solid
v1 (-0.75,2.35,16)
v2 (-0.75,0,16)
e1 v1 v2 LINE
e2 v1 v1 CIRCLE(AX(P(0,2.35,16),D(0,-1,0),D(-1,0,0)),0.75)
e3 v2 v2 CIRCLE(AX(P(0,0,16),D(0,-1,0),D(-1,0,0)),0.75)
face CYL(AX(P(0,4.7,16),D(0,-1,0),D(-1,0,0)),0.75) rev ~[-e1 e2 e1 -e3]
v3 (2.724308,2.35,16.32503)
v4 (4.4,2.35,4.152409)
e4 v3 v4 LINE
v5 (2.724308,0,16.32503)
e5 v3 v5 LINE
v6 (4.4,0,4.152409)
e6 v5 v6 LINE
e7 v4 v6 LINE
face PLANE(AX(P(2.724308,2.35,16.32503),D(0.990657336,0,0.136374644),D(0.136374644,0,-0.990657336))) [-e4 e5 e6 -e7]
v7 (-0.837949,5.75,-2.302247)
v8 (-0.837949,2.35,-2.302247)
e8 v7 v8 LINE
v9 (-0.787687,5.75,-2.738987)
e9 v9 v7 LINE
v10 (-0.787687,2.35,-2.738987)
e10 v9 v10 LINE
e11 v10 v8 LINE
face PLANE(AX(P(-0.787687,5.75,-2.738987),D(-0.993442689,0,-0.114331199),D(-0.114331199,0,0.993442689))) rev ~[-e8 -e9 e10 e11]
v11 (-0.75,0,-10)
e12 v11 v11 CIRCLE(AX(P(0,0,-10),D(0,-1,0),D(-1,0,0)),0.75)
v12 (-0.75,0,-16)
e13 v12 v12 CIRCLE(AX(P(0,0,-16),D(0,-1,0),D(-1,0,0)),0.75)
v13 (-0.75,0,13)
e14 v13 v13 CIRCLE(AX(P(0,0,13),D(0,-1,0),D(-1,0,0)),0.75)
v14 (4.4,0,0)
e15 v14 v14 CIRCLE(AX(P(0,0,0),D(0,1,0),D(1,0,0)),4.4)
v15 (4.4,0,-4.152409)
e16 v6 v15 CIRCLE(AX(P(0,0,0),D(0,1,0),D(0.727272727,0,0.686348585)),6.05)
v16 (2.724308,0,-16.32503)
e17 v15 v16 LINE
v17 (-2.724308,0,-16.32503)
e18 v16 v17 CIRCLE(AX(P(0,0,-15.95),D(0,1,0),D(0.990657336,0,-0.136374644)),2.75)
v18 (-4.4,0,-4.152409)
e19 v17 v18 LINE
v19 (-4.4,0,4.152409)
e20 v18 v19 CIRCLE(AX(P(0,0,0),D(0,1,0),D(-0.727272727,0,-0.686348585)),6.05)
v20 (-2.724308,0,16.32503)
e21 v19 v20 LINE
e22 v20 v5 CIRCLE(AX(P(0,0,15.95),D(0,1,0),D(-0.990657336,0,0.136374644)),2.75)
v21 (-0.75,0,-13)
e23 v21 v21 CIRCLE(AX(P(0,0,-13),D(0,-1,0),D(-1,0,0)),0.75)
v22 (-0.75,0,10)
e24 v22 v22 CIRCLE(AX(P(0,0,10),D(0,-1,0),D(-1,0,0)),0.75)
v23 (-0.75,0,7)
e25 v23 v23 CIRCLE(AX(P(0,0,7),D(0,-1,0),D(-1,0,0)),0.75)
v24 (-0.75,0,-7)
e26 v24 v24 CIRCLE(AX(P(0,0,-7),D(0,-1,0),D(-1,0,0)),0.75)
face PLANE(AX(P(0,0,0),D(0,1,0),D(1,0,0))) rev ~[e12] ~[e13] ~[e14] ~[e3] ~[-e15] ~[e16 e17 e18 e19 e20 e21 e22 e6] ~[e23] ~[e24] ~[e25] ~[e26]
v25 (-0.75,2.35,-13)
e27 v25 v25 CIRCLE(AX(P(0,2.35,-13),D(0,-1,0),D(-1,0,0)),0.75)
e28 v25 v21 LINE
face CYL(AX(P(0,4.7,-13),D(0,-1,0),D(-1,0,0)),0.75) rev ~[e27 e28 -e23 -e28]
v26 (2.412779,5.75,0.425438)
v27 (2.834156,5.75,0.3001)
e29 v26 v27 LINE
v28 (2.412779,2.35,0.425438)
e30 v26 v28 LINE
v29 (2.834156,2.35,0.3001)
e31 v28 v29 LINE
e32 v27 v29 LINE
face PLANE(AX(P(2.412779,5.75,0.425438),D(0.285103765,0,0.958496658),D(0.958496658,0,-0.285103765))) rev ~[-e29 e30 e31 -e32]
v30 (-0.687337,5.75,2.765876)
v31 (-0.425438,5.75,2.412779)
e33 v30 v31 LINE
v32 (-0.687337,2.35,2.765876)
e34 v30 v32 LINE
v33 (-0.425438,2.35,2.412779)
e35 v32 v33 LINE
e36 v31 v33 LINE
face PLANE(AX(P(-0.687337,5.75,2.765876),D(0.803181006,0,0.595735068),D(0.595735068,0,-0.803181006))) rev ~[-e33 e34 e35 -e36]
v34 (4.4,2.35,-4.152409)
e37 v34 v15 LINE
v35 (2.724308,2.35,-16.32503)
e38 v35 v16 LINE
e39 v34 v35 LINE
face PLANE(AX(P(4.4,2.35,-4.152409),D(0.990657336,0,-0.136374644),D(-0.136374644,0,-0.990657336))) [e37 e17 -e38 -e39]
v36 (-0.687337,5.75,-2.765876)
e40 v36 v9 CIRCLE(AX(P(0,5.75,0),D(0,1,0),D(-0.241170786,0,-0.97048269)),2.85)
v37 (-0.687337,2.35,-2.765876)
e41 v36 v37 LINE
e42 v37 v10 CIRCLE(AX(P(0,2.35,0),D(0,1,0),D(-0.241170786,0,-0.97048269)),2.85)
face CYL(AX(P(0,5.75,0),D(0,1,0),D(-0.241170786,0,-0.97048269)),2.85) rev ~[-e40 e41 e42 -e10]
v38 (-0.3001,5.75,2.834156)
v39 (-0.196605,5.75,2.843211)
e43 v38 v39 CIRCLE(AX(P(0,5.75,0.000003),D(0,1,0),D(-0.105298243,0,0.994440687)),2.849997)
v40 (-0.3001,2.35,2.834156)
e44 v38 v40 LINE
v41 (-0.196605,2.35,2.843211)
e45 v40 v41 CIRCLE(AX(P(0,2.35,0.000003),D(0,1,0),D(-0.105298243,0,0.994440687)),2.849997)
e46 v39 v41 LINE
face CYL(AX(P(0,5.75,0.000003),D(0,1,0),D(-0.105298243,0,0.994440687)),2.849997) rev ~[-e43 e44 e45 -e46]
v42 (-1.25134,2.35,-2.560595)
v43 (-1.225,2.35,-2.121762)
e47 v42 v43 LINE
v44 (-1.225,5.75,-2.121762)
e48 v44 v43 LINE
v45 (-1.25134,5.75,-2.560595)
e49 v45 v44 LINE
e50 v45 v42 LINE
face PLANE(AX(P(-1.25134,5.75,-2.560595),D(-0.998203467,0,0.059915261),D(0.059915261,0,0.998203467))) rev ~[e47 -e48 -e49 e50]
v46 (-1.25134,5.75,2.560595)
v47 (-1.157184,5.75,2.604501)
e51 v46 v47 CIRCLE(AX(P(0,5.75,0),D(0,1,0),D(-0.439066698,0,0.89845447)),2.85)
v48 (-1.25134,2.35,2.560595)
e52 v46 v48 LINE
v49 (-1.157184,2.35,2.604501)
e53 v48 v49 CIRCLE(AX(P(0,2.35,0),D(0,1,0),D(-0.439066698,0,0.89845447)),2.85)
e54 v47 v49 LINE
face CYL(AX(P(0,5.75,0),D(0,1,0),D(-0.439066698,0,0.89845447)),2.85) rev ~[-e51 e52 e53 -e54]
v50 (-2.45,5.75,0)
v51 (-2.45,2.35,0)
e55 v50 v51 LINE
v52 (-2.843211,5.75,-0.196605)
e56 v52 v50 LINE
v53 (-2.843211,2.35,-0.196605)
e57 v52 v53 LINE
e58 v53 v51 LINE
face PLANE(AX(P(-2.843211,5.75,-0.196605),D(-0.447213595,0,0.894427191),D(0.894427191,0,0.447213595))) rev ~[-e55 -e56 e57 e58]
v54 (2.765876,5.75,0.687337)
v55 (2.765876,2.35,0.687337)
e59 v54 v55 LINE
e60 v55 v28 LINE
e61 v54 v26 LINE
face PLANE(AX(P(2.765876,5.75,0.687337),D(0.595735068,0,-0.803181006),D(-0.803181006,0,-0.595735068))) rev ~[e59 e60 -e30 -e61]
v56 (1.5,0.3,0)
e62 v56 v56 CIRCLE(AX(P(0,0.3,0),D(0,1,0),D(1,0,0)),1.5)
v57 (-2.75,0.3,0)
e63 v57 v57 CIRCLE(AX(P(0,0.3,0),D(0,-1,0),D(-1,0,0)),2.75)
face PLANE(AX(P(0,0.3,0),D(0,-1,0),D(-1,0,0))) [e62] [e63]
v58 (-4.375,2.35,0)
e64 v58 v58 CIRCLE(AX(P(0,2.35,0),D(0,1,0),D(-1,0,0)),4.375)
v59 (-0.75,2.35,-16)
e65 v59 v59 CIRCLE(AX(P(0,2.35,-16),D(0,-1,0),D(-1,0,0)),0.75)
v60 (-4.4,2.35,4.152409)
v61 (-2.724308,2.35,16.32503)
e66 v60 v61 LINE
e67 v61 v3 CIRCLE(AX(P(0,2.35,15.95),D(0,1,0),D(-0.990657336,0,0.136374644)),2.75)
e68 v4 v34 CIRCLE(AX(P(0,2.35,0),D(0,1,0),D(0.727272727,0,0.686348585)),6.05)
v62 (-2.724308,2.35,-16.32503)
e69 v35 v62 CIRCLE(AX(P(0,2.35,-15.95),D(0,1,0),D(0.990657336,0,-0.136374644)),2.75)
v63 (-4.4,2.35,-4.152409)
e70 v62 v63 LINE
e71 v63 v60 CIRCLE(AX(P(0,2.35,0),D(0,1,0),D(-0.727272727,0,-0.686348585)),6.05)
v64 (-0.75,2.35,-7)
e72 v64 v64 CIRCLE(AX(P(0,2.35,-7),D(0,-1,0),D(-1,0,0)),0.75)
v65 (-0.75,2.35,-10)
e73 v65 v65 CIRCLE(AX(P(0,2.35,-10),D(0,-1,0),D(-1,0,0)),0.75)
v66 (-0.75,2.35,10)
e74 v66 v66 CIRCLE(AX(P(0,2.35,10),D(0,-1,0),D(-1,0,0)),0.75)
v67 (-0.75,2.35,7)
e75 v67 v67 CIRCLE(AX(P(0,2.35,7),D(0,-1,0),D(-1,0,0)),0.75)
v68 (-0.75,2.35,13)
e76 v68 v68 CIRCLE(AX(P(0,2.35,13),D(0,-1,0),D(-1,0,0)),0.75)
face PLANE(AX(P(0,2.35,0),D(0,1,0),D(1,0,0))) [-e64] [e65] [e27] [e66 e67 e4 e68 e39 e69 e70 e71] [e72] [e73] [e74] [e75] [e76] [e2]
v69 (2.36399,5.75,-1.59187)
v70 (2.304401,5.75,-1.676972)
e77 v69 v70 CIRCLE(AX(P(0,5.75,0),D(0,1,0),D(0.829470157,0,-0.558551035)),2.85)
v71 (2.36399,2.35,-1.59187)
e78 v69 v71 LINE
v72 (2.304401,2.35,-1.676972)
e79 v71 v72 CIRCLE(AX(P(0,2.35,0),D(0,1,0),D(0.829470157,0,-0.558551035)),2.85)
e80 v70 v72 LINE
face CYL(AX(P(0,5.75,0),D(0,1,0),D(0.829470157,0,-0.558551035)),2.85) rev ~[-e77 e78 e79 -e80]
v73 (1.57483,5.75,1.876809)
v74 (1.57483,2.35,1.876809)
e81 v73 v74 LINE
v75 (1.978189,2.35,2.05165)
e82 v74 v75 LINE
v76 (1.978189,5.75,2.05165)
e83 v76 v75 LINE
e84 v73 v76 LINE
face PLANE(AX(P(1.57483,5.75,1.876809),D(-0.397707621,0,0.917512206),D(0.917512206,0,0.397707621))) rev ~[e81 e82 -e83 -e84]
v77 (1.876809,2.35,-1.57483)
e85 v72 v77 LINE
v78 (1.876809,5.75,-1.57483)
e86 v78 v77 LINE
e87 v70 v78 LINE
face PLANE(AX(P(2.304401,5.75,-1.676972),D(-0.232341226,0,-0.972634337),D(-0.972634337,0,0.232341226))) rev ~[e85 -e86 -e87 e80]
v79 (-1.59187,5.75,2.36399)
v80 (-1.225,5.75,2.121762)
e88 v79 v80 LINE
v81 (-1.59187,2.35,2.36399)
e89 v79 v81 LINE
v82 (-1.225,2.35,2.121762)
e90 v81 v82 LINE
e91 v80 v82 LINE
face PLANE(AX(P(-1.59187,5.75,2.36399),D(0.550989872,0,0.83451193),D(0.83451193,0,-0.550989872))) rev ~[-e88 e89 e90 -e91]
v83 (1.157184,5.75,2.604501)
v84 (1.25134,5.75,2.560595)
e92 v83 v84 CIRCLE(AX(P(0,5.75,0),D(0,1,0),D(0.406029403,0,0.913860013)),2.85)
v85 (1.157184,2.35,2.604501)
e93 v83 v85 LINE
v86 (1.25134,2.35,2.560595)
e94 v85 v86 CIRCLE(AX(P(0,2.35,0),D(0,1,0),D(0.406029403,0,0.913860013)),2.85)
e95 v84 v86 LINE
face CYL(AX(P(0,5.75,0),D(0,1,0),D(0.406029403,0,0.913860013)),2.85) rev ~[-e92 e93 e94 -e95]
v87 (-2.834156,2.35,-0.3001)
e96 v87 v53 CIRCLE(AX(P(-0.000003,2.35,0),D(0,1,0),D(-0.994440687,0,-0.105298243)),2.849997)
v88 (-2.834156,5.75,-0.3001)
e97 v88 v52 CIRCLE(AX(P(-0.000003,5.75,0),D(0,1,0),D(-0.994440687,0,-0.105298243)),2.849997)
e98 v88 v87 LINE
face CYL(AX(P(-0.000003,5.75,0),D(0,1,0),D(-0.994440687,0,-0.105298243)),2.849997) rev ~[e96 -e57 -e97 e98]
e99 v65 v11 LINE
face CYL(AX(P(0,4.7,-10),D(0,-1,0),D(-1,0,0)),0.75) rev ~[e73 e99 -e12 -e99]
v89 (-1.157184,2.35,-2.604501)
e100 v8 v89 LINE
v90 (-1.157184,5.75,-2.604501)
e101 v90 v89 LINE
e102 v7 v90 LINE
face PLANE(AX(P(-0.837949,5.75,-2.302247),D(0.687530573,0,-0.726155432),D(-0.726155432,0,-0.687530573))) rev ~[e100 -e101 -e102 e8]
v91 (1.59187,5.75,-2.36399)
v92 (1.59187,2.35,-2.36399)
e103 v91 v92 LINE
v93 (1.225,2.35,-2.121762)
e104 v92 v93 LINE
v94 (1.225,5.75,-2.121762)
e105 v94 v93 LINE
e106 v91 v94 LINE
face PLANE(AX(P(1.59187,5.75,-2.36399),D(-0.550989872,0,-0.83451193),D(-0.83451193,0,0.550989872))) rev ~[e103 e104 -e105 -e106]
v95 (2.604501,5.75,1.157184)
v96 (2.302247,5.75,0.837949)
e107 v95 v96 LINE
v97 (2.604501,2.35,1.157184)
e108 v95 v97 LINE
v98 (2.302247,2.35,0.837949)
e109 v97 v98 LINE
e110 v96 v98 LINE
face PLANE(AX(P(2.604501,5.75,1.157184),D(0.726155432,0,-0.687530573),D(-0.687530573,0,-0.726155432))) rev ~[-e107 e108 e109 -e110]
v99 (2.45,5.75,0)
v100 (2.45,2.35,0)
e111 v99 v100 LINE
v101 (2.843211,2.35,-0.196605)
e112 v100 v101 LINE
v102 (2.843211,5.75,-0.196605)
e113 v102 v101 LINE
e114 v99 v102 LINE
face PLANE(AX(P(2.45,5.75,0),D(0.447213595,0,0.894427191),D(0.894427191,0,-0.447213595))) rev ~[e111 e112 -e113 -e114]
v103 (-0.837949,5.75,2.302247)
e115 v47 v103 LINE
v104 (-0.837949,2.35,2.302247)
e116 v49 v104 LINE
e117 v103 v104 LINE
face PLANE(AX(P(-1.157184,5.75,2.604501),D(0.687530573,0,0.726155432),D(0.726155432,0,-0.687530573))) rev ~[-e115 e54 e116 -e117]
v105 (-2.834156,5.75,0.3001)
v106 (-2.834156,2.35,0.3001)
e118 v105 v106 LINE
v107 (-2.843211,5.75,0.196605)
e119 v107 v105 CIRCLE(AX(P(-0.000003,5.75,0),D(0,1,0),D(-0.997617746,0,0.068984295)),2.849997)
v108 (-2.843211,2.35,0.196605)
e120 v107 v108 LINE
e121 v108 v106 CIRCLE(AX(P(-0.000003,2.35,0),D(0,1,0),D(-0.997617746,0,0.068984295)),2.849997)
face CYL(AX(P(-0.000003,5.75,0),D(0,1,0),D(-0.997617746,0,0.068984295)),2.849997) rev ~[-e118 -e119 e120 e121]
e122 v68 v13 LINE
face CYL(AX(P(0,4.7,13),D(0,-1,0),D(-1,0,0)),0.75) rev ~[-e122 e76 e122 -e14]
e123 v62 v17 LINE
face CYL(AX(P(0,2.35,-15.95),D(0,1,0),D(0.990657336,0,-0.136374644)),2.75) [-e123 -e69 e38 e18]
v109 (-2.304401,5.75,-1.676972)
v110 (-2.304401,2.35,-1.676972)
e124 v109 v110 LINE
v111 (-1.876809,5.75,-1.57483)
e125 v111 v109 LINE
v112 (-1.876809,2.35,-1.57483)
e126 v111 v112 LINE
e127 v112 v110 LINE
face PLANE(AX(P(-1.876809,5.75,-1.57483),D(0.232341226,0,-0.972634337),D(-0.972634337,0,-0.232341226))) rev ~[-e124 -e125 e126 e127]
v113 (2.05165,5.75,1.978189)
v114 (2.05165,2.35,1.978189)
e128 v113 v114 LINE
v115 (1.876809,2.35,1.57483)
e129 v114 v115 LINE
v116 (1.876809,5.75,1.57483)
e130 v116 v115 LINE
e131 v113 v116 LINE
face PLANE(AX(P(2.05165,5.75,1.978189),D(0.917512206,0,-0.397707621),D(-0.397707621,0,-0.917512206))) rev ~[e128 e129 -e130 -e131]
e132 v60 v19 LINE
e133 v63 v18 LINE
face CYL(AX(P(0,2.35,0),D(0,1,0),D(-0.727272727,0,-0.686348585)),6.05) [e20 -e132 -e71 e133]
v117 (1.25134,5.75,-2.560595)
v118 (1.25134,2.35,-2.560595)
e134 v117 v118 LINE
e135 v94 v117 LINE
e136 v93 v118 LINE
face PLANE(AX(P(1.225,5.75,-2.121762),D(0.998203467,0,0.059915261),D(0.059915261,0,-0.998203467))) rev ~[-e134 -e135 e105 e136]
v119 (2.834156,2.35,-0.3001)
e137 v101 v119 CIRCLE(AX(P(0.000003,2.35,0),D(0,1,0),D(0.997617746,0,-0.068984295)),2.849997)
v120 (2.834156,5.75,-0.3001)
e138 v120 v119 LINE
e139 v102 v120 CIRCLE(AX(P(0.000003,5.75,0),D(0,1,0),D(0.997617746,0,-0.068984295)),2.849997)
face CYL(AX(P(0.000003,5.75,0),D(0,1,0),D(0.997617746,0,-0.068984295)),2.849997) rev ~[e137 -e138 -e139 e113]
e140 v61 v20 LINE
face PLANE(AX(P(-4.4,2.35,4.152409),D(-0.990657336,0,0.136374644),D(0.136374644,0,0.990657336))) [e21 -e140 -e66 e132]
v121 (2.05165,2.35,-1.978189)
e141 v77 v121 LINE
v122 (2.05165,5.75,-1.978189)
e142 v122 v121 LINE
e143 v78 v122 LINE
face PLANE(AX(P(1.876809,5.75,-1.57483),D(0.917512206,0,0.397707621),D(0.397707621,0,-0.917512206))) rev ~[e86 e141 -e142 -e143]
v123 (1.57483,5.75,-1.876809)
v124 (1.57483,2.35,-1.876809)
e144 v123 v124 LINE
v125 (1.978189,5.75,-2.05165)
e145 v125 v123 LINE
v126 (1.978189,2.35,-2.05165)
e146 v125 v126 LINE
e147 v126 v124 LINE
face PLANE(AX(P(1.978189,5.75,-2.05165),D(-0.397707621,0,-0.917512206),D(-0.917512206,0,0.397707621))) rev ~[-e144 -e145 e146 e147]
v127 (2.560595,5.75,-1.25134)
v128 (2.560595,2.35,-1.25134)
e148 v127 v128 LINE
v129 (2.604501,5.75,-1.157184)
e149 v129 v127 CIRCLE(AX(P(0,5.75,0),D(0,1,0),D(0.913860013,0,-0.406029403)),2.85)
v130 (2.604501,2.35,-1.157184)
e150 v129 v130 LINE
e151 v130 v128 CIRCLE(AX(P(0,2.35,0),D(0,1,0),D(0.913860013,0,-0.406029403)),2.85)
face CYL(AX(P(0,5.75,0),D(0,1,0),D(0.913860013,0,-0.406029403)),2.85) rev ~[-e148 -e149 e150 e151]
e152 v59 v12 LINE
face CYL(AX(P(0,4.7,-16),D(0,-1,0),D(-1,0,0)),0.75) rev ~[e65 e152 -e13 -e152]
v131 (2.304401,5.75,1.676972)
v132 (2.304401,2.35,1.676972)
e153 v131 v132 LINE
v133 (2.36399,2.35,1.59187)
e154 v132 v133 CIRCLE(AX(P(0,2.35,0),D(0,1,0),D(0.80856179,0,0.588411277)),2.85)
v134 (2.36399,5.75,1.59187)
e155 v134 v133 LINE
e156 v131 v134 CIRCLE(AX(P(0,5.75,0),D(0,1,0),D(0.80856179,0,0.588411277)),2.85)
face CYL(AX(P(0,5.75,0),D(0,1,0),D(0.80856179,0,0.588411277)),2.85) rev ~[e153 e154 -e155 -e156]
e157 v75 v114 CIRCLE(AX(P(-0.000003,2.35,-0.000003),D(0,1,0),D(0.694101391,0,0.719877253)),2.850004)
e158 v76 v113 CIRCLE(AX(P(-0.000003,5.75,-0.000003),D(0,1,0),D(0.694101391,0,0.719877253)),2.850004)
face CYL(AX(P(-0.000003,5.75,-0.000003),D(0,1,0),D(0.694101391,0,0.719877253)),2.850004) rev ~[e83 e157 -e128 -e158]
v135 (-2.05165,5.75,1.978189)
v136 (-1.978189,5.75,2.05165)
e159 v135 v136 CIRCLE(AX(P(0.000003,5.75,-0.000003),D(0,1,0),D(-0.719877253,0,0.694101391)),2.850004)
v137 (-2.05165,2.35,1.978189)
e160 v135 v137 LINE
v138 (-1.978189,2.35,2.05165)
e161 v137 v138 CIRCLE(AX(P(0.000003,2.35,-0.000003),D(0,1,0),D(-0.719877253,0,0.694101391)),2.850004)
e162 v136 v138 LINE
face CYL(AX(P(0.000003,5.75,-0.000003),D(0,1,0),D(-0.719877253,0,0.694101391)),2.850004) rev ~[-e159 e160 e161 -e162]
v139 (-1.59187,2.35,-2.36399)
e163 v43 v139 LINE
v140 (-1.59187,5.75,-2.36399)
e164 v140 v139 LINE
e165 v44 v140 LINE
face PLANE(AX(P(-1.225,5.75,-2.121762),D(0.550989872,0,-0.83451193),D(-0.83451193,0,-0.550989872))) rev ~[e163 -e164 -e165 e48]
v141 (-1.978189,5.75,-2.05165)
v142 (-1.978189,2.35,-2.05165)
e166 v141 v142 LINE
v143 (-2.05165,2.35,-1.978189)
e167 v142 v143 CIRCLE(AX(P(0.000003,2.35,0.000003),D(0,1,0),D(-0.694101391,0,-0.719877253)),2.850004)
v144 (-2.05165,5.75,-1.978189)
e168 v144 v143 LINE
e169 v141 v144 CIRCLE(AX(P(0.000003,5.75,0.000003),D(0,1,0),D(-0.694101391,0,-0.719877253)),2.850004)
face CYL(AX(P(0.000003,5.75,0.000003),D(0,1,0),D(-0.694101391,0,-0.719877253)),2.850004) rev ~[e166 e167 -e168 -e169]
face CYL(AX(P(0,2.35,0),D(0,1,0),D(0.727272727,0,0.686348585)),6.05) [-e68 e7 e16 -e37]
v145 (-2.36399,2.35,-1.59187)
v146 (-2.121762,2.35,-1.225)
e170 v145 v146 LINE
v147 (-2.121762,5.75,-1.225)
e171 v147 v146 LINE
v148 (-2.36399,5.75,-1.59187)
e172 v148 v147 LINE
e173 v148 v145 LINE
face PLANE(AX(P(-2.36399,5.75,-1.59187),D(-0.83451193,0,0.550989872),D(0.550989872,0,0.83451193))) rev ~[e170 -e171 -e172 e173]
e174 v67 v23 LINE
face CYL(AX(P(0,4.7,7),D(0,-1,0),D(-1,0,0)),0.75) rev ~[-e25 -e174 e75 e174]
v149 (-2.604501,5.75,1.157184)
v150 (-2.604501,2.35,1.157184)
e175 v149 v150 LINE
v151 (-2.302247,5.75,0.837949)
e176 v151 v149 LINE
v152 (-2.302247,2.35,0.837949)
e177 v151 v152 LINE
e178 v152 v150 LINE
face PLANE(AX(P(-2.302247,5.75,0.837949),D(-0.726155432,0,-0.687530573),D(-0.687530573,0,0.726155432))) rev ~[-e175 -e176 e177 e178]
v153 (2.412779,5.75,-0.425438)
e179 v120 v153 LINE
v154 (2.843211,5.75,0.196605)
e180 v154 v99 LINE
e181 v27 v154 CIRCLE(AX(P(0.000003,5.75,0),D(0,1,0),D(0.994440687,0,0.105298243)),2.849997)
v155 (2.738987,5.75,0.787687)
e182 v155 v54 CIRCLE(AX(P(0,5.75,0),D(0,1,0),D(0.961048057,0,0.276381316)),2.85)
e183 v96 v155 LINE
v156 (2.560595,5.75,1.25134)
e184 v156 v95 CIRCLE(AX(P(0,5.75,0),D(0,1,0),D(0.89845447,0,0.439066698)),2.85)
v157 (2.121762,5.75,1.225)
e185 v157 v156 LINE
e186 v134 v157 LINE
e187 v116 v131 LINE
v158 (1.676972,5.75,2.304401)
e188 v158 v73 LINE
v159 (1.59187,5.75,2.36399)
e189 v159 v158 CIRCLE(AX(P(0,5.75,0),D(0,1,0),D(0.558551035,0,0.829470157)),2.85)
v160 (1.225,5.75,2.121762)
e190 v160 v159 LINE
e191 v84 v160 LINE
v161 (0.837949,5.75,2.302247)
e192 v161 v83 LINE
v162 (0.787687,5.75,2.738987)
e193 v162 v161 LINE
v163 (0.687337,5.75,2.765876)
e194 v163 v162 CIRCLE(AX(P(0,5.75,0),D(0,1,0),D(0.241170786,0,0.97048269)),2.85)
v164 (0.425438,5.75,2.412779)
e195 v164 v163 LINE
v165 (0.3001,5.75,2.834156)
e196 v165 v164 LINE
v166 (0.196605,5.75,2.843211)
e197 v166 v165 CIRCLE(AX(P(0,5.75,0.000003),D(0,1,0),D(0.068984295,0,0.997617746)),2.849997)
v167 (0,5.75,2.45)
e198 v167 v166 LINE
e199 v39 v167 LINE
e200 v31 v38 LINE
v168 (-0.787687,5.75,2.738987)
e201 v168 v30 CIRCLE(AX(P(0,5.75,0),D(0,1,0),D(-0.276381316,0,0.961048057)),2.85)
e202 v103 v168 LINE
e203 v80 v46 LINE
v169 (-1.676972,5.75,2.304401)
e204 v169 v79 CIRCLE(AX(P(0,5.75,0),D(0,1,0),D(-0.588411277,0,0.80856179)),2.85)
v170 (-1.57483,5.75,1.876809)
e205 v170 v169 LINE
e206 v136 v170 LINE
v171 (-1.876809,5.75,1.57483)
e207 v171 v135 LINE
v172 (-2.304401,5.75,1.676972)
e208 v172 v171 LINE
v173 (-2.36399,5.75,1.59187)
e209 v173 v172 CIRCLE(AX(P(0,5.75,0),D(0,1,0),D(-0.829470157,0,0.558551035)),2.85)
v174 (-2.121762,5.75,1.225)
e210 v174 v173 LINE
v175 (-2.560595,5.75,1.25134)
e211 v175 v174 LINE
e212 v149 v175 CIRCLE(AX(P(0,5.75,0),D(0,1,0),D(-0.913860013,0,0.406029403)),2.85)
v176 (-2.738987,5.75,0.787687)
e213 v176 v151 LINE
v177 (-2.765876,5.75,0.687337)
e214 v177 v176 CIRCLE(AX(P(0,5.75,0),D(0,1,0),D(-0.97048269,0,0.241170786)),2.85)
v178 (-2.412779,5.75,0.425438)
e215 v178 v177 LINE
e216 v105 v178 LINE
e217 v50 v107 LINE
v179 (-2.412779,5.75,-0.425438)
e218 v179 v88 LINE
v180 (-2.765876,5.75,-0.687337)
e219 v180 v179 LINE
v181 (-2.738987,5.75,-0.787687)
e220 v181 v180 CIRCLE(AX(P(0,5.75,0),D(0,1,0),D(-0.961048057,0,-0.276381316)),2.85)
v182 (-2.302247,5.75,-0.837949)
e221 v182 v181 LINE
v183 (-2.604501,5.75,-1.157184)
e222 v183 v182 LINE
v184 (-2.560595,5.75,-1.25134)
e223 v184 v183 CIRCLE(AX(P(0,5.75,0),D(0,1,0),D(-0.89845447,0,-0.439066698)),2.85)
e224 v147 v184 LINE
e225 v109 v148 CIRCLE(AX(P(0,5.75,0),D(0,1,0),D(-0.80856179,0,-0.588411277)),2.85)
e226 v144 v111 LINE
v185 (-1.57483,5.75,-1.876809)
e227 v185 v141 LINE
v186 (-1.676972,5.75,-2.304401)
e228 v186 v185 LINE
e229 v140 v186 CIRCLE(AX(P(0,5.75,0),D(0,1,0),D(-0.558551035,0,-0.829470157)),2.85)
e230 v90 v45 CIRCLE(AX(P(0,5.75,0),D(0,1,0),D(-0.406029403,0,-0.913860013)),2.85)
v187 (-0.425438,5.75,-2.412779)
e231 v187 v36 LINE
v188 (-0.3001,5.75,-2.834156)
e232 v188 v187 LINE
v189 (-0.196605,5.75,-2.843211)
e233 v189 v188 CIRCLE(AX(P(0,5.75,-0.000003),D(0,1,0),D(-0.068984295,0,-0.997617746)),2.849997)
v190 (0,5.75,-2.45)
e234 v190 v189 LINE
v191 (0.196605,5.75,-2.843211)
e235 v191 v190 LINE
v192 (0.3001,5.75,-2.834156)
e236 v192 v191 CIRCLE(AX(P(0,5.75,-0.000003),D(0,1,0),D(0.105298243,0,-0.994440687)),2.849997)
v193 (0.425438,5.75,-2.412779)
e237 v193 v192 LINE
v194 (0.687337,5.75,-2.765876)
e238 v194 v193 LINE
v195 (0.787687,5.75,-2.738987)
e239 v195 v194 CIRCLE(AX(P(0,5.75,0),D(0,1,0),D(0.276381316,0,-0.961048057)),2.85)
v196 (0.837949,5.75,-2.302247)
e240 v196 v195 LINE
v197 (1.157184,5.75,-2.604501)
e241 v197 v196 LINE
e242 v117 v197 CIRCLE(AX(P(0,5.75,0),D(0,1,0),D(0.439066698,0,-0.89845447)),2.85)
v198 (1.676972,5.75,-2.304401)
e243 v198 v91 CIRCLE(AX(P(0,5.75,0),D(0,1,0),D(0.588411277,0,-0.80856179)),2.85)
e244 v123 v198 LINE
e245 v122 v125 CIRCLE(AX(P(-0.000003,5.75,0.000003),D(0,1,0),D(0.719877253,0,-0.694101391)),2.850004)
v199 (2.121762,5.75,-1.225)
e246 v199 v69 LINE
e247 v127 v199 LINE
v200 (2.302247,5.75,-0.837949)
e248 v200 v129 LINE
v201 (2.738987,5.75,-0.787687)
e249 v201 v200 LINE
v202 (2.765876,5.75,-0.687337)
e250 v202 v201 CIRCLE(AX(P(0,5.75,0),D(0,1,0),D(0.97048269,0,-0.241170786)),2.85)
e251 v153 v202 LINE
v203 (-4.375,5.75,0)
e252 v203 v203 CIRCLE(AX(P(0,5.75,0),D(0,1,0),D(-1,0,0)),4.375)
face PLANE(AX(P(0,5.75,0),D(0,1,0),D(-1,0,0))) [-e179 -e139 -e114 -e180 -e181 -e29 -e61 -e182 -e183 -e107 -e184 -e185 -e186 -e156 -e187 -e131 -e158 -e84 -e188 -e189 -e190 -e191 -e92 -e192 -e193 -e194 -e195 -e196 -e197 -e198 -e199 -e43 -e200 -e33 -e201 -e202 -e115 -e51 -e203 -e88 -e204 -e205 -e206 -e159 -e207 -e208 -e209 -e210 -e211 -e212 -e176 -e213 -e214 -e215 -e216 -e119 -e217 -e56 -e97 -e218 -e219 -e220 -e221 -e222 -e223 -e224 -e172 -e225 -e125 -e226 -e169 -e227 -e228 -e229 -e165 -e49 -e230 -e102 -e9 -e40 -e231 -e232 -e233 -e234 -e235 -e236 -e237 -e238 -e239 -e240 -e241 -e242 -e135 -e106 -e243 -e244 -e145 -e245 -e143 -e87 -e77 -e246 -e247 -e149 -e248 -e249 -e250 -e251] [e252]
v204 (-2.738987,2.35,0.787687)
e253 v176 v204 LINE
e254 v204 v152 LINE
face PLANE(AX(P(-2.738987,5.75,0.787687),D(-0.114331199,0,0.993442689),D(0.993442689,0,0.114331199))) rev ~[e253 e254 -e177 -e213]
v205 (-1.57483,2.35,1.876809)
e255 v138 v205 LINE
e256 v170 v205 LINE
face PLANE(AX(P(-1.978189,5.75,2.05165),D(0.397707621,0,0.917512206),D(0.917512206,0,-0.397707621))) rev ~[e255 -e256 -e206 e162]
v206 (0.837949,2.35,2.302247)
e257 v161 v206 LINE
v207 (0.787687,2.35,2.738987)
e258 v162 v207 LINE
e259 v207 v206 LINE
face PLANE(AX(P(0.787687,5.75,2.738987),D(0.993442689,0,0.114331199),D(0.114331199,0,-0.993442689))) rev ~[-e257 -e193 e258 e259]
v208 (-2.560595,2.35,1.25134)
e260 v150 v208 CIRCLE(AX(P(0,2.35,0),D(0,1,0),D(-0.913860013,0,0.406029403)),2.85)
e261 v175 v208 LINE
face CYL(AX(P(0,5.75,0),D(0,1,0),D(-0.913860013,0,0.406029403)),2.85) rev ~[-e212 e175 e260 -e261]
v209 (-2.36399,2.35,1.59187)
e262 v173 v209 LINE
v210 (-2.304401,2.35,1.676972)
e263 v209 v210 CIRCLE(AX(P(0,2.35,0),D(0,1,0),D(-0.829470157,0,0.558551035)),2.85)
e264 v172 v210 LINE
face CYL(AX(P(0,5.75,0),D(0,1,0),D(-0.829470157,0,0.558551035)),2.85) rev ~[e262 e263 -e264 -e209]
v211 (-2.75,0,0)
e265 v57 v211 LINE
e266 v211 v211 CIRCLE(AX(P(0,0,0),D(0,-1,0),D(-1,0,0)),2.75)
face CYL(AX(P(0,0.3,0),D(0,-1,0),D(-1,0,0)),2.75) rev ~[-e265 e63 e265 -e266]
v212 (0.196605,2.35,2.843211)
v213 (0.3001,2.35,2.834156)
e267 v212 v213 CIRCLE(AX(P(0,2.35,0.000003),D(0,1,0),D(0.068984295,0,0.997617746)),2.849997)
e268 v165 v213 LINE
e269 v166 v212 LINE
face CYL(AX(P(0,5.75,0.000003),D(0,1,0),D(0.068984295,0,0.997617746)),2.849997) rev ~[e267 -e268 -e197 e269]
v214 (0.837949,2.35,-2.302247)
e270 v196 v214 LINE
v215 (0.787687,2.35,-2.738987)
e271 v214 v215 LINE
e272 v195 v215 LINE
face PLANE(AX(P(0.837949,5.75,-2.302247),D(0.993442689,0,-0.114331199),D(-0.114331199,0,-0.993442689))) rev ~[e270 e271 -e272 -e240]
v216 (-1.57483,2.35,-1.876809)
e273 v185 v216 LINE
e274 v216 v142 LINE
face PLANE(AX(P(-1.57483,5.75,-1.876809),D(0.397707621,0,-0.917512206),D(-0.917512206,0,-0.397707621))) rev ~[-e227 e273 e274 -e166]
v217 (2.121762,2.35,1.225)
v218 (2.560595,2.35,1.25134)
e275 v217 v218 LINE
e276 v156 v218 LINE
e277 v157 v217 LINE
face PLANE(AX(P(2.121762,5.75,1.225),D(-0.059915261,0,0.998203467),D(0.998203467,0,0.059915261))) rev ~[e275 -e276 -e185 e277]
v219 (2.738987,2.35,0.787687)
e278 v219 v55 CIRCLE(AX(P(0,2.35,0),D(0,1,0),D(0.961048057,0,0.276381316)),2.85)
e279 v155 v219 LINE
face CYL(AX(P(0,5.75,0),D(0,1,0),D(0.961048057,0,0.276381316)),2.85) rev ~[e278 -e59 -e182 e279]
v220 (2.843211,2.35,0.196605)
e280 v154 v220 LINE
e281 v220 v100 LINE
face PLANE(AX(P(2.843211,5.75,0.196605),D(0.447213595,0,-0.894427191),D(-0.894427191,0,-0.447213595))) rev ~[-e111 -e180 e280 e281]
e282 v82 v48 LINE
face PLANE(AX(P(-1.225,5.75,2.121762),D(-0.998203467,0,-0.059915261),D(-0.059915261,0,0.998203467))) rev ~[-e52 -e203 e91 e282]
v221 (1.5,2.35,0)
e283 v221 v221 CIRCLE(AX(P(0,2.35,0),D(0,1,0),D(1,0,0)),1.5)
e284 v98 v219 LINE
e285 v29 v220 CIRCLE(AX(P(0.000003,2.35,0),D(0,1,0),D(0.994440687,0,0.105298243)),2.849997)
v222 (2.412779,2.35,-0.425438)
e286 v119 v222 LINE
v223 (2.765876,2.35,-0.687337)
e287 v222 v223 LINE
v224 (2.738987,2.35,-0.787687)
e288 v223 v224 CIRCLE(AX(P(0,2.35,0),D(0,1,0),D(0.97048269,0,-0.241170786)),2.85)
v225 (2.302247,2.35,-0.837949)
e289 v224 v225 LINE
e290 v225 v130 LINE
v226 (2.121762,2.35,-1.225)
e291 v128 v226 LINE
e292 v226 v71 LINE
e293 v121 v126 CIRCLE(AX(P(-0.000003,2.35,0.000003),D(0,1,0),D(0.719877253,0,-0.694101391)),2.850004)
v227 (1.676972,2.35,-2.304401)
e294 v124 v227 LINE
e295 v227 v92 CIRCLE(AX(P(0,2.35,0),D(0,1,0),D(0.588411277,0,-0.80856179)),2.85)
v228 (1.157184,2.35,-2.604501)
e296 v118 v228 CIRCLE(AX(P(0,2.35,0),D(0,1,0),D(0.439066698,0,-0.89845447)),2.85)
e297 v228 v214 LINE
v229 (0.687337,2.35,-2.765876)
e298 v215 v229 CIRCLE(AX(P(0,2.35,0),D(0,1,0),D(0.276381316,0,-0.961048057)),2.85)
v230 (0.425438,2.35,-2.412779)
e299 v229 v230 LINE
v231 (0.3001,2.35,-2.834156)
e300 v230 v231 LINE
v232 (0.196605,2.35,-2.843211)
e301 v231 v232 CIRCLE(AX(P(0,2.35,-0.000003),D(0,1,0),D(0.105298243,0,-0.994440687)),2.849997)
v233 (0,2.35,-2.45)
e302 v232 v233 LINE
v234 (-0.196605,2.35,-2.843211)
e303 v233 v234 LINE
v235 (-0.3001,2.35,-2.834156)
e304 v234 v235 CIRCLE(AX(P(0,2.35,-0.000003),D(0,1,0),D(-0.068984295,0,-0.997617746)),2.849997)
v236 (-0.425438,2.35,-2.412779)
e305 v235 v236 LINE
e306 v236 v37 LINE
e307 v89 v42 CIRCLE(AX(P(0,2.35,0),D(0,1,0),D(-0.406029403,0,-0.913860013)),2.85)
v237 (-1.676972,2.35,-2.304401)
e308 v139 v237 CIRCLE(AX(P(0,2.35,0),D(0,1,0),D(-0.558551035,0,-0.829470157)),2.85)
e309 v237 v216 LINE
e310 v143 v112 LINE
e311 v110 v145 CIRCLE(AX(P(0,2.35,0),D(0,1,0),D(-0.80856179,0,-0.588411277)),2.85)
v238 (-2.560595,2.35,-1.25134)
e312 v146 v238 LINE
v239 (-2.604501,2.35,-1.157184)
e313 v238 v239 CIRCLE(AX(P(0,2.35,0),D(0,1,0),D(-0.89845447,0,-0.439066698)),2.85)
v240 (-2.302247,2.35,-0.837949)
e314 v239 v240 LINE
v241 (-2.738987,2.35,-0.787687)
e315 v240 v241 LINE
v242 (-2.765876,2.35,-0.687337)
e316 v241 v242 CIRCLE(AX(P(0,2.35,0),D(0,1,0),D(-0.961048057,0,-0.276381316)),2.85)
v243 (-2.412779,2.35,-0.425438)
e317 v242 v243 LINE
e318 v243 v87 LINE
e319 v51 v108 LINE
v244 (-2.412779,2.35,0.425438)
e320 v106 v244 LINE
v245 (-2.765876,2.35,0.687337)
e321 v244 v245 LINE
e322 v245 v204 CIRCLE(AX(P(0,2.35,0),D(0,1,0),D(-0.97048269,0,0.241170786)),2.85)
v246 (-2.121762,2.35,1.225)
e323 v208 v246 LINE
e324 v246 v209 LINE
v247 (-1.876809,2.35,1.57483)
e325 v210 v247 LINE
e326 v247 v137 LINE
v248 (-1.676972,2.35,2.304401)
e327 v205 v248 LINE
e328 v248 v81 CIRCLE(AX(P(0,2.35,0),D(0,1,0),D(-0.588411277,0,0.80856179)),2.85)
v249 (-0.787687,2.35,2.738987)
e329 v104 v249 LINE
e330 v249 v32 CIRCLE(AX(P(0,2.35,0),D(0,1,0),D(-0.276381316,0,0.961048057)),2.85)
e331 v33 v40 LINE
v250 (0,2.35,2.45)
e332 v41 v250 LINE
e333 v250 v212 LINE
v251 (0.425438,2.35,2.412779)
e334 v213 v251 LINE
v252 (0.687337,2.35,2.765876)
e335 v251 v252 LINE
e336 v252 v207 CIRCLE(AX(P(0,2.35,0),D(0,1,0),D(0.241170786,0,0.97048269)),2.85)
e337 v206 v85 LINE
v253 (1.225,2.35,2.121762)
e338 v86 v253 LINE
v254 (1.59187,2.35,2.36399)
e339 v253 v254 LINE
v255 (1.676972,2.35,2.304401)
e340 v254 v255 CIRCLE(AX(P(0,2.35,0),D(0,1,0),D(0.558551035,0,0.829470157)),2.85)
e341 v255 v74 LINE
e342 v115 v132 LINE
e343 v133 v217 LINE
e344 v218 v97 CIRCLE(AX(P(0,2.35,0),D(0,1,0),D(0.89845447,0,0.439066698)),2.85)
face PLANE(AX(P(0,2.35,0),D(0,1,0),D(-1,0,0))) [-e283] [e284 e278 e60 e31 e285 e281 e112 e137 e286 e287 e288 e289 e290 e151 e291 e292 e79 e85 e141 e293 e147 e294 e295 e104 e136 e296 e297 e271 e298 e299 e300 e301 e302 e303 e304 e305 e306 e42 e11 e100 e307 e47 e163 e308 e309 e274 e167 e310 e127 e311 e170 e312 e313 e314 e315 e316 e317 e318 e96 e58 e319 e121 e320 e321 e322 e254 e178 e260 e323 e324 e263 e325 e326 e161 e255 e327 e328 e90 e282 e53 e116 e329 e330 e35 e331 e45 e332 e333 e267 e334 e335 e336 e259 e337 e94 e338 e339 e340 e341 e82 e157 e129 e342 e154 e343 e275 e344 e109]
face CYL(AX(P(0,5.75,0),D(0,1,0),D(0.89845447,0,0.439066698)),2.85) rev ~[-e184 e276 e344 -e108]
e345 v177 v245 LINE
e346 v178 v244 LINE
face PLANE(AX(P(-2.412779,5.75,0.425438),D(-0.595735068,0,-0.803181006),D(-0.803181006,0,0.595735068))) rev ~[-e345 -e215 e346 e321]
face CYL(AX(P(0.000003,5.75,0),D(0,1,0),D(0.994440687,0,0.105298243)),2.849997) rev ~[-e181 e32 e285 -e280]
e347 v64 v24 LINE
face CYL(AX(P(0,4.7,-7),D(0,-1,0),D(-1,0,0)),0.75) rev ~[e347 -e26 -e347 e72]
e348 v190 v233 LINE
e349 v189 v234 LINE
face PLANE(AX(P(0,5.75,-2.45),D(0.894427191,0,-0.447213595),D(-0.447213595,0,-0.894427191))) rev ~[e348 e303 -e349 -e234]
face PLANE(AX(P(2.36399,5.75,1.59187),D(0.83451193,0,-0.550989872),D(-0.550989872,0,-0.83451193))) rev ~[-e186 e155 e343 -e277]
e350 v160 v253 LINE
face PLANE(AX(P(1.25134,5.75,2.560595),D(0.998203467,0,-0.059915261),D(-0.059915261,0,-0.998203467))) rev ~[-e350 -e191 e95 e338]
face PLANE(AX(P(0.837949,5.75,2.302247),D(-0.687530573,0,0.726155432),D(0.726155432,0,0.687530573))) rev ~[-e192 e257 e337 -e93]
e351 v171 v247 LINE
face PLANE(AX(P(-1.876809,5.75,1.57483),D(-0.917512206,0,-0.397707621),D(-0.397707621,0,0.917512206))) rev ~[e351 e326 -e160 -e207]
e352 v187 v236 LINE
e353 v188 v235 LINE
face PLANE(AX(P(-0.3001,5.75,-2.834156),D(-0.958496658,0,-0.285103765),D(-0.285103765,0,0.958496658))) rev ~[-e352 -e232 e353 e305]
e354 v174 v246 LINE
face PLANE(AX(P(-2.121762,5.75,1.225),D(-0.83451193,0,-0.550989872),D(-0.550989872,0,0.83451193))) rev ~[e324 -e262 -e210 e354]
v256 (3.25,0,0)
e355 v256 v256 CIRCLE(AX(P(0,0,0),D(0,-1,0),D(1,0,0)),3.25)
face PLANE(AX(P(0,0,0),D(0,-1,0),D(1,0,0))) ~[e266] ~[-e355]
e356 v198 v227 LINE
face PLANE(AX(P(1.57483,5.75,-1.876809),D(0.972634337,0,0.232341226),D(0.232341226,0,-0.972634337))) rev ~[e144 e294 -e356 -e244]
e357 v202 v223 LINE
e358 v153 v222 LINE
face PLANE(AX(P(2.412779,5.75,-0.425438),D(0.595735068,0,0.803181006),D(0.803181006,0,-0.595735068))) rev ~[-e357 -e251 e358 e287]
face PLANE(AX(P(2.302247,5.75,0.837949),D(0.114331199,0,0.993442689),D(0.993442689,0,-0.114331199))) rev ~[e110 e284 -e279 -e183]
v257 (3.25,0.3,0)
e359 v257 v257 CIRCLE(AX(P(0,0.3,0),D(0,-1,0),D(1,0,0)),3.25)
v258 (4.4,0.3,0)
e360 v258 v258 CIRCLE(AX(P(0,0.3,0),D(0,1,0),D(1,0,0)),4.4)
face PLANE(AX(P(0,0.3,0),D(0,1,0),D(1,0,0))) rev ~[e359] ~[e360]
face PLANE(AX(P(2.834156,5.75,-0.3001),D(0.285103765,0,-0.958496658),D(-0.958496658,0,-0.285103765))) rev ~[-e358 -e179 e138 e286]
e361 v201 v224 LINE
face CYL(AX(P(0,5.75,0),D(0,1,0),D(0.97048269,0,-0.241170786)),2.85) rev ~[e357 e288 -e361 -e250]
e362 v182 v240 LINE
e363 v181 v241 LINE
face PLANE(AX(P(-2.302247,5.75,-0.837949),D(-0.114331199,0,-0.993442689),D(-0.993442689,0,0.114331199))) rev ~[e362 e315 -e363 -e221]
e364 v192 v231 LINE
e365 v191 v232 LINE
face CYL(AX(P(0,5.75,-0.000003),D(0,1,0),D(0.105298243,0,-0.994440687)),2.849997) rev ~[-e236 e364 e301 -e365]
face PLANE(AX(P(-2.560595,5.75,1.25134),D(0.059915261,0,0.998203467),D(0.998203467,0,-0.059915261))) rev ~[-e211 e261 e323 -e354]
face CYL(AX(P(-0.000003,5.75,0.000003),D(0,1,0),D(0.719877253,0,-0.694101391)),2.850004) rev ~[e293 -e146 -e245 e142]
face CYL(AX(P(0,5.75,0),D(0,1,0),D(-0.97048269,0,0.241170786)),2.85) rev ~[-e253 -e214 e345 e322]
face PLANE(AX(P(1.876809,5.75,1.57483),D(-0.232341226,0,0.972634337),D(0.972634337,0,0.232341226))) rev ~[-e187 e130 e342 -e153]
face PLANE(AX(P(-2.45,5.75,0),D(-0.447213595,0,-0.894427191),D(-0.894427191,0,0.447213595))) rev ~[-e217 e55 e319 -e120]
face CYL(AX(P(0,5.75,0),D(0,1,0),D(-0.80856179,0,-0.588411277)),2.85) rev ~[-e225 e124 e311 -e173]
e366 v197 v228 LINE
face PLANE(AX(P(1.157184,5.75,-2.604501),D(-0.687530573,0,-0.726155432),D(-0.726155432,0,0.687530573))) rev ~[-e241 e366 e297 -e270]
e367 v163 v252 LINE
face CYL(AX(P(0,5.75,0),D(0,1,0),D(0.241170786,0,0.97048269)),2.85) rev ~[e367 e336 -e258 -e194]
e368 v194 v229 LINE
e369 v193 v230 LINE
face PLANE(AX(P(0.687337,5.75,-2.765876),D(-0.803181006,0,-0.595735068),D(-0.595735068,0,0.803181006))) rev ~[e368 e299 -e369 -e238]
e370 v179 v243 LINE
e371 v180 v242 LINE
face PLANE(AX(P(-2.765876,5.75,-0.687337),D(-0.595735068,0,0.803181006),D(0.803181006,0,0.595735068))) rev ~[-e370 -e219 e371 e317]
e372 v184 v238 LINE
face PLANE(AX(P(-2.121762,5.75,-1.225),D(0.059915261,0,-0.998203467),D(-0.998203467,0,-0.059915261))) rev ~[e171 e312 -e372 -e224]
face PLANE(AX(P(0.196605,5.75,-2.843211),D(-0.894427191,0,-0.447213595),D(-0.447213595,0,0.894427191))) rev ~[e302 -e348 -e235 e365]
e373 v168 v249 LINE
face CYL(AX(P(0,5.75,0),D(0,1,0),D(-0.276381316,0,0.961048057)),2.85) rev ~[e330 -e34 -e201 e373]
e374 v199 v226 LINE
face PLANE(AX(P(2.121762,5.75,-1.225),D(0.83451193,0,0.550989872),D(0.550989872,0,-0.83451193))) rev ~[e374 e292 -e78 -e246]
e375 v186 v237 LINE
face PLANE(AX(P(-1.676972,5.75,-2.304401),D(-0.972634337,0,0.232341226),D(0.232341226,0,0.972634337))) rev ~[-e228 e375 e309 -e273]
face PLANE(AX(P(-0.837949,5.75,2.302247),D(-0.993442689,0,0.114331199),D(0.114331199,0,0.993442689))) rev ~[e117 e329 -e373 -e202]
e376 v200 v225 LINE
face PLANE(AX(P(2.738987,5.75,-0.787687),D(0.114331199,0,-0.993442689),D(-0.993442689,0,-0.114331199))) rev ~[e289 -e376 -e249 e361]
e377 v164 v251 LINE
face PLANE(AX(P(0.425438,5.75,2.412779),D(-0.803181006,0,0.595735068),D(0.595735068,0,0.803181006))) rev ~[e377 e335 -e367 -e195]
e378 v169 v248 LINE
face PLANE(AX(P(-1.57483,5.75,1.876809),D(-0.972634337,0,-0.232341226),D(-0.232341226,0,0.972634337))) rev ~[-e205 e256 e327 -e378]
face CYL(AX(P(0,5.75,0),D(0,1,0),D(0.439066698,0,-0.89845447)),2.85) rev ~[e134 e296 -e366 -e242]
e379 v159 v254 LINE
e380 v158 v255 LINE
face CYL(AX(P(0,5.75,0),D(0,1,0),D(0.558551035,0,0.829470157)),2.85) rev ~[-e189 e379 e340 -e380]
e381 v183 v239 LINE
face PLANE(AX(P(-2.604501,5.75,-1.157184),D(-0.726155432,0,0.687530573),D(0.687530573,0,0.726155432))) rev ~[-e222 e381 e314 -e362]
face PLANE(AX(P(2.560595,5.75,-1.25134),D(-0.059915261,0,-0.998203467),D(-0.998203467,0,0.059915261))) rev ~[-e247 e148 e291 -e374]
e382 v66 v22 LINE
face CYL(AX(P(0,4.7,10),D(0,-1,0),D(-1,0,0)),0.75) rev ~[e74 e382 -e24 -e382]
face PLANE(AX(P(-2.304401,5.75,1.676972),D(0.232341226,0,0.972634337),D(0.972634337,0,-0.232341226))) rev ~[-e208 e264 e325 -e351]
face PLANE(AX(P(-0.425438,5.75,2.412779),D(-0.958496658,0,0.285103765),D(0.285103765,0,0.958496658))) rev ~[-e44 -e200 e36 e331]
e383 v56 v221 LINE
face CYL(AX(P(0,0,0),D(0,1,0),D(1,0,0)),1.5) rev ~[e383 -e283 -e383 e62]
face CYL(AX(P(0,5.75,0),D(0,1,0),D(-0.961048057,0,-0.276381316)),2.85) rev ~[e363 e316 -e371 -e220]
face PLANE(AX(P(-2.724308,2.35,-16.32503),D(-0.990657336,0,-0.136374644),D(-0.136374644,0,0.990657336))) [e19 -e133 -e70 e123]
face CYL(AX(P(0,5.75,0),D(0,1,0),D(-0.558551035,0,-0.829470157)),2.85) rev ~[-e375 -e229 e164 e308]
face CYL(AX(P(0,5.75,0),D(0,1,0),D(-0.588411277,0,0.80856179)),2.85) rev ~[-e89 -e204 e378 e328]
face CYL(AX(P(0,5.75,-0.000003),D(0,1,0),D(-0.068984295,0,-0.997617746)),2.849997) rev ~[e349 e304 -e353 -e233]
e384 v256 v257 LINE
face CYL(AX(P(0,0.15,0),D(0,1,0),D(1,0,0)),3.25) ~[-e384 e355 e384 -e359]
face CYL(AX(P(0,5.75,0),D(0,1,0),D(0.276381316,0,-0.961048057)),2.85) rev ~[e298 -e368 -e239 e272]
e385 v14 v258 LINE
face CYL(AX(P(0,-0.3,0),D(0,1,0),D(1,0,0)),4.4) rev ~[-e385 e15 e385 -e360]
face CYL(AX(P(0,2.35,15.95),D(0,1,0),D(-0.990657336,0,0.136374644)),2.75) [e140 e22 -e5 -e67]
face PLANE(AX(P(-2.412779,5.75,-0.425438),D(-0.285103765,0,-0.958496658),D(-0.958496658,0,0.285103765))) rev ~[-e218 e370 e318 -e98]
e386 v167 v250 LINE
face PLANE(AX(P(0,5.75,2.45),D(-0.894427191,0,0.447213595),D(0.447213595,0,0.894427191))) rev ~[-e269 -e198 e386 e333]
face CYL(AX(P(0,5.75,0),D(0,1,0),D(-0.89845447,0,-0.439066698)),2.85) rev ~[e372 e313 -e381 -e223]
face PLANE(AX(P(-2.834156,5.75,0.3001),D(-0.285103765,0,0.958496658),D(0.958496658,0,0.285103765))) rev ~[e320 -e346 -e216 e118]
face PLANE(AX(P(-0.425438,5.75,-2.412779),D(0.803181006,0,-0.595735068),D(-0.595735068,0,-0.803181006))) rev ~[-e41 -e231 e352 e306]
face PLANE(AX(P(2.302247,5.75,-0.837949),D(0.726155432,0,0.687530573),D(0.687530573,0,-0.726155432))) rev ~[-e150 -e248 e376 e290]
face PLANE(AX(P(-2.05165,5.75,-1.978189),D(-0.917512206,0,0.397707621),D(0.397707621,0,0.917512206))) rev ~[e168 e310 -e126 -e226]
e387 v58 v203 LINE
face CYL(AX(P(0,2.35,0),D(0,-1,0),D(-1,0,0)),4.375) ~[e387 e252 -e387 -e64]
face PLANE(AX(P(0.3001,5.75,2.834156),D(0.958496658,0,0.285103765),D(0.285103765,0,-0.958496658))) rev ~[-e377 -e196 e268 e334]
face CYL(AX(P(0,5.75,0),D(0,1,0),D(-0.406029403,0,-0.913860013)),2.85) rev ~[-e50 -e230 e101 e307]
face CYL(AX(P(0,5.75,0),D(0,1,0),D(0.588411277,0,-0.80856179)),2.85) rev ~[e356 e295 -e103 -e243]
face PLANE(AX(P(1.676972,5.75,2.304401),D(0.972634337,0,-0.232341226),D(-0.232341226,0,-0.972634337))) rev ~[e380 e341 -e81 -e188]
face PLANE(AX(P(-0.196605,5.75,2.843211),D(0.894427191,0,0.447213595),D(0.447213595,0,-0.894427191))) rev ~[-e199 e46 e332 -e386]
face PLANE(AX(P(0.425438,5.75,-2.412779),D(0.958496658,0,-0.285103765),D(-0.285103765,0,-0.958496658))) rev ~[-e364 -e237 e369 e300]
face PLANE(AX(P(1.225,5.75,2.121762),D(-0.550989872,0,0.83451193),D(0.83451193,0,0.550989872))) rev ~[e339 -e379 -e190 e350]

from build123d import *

# Parameters (mm, degrees)
BOSS_EXTRUDE1_DEPTH                                = 2.35
SKETCH2_R                                          = 4.375
BOSS_EXTRUDE2_DEPTH                                = 3.4
CUT_EXTRUDE1_DEPTH                                 = 3.4
F_8_8_8_8_DIAMETER_HOLE1_D                         = 8.8
F_8_8_8_8_DIAMETER_HOLE1_DEPTH                     = 0.3
SKETCH6_W                                          = 3.25
SKETCH6_H                                          = 0.3
F_1_5_1_5_DIAMETER_HOLE1_D                         = 1.5
F_1_5_1_5_DIAMETER_HOLE1_DEPTH                     = 2.35
CBORE_FOR_M2_5_HEX_HEAD_MACHINE_SCREW1_D           = 3
CBORE_FOR_M2_5_HEX_HEAD_MACHINE_SCREW1_DEPTH       = 5.75
CBORE_FOR_M2_5_HEX_HEAD_MACHINE_SCREW1_CBORE_D     = 5.5
CBORE_FOR_M2_5_HEX_HEAD_MACHINE_SCREW1_CBORE_DEPTH = 0.3


with BuildPart() as part:
    # Sketch1 → Boss-Extrude1 (new body)
    with BuildSketch(Plane(origin=(0, 2.35, 0), x_dir=(1, 0, 0), z_dir=(0, 1, 0))):
        with BuildLine():
            Line((2.724307673, -16.32503027), (4.4, -4.152408939))
            ThreePointArc((4.4, -4.152408939), (6.05, 0), (4.4, 4.152408939))
            Line((4.4, 4.152408939), (2.724307673, 16.32503027))
            ThreePointArc((2.724307673, 16.32503027), (0, 18.7), (-2.724307673, 16.32503027))
            Line((-2.724307673, 16.32503027), (-4.4, 4.152408939))
            ThreePointArc((-4.4, 4.152408939), (-6.05, 0), (-4.4, -4.152408939))
            Line((-4.4, -4.152408939), (-2.724307673, -16.32503027))
            ThreePointArc((-2.724307673, -16.32503027), (0, -18.7), (2.724307673, -16.32503027))
        make_face()
    extrude(amount=-BOSS_EXTRUDE1_DEPTH)

    # Sketch2 → Boss-Extrude2 (add)
    with BuildSketch(Plane(origin=(0, 2.35, 0), x_dir=(-1, 0, 0), z_dir=(0, 1, 0))):
        Circle(SKETCH2_R)
    extrude(amount=BOSS_EXTRUDE2_DEPTH)

    # Sketch3 → Cut-Extrude1 (cut)
    with BuildSketch(Plane(origin=(0, 5.75, 0), x_dir=(-1, 0, 0), z_dir=(0, 1, 0))):
        with BuildLine():
            Line((0.687336745, 2.765875666), (0.425438035, 2.412778995))
            Line((0.425438035, 2.412778995), (0.300099924, 2.834155965))
            ThreePointArc((0.300099924, 2.834155965), (0.248393867, 2.83915489), (0.196605286, 2.843210573))
            Line((0.196605286, 2.843210573), (0, 2.45))
            Line((0, 2.45), (-0.196605286, 2.843210573))
            ThreePointArc((-0.196605286, 2.843210573), (-0.248393867, 2.83915489), (-0.300099924, 2.834155965))
            Line((-0.300099924, 2.834155965), (-0.425438035, 2.412778995))
            Line((-0.425438035, 2.412778995), (-0.687336745, 2.765875666))
            ThreePointArc((-0.687336745, 2.765875666), (-0.737634279, 2.752888605), (-0.787686751, 2.738986963))
            Line((-0.787686751, 2.738986963), (-0.837949351, 2.302246921))
            Line((-0.837949351, 2.302246921), (-1.157183824, 2.604501026))
            ThreePointArc((-1.157183824, 2.604501026), (-1.204462046, 2.582977193), (-1.251340114, 2.560595228))
            Line((-1.251340114, 2.560595228), (-1.225, 2.121762239))
            Line((-1.225, 2.121762239), (-1.591870459, 2.363989941))
            ThreePointArc((-1.591870459, 2.363989941), (-1.634692844, 2.334583326), (-1.676972141, 2.304401102))
            Line((-1.676972141, 2.304401102), (-1.574829644, 1.876808886))
            Line((-1.574829644, 1.876808886), (-1.978188915, 2.051650218))
            ThreePointArc((-1.978188915, 2.051650218), (-2.015254326, 2.015254326), (-2.051650218, 1.978188915))
            Line((-2.051650218, 1.978188915), (-1.876808886, 1.574829644))
            Line((-1.876808886, 1.574829644), (-2.304401102, 1.676972141))
            ThreePointArc((-2.304401102, 1.676972141), (-2.334583326, 1.634692844), (-2.363989941, 1.591870459))
            Line((-2.363989941, 1.591870459), (-2.121762239, 1.225))
            Line((-2.121762239, 1.225), (-2.560595228, 1.251340114))
            ThreePointArc((-2.560595228, 1.251340114), (-2.582977193, 1.204462046), (-2.604501026, 1.157183824))
            Line((-2.604501026, 1.157183824), (-2.302246921, 0.837949351))
            Line((-2.302246921, 0.837949351), (-2.738986963, 0.787686751))
            ThreePointArc((-2.738986963, 0.787686751), (-2.752888605, 0.737634279), (-2.765875666, 0.687336745))
            Line((-2.765875666, 0.687336745), (-2.412778995, 0.425438035))
            Line((-2.412778995, 0.425438035), (-2.834155965, 0.300099924))
            ThreePointArc((-2.834155965, 0.300099924), (-2.83915489, 0.248393867), (-2.843210573, 0.196605286))
            Line((-2.843210573, 0.196605286), (-2.45, 0))
            Line((-2.45, 0), (-2.843210573, -0.196605286))
            ThreePointArc((-2.843210573, -0.196605286), (-2.83915489, -0.248393867), (-2.834155965, -0.300099924))
            Line((-2.834155965, -0.300099924), (-2.412778995, -0.425438035))
            Line((-2.412778995, -0.425438035), (-2.765875666, -0.687336745))
            ThreePointArc((-2.765875666, -0.687336745), (-2.752888605, -0.737634279), (-2.738986963, -0.787686751))
            Line((-2.738986963, -0.787686751), (-2.302246921, -0.837949351))
            Line((-2.302246921, -0.837949351), (-2.604501026, -1.157183824))
            ThreePointArc((-2.604501026, -1.157183824), (-2.582977193, -1.204462046), (-2.560595228, -1.251340114))
            Line((-2.560595228, -1.251340114), (-2.121762239, -1.225))
            Line((-2.121762239, -1.225), (-2.363989941, -1.591870459))
            ThreePointArc((-2.363989941, -1.591870459), (-2.334583326, -1.634692844), (-2.304401102, -1.676972141))
            Line((-2.304401102, -1.676972141), (-1.876808886, -1.574829644))
            Line((-1.876808886, -1.574829644), (-2.051650218, -1.978188915))
            ThreePointArc((-2.051650218, -1.978188915), (-2.015254326, -2.015254326), (-1.978188915, -2.051650218))
            Line((-1.978188915, -2.051650218), (-1.574829644, -1.876808886))
            Line((-1.574829644, -1.876808886), (-1.676972141, -2.304401102))
            ThreePointArc((-1.676972141, -2.304401102), (-1.634692844, -2.334583326), (-1.591870459, -2.363989941))
            Line((-1.591870459, -2.363989941), (-1.225, -2.121762239))
            Line((-1.225, -2.121762239), (-1.251340114, -2.560595228))
            ThreePointArc((-1.251340114, -2.560595228), (-1.204462046, -2.582977193), (-1.157183824, -2.604501026))
            Line((-1.157183824, -2.604501026), (-0.837949351, -2.302246921))
            Line((-0.837949351, -2.302246921), (-0.787686751, -2.738986963))
            ThreePointArc((-0.787686751, -2.738986963), (-0.737634279, -2.752888605), (-0.687336745, -2.765875666))
            Line((-0.687336745, -2.765875666), (-0.425438035, -2.412778995))
            Line((-0.425438035, -2.412778995), (-0.300099924, -2.834155965))
            ThreePointArc((-0.300099924, -2.834155965), (-0.248393867, -2.83915489), (-0.196605286, -2.843210573))
            Line((-0.196605286, -2.843210573), (0, -2.45))
            Line((0, -2.45), (0.196605286, -2.843210573))
            ThreePointArc((0.196605286, -2.843210573), (0.248393867, -2.83915489), (0.300099924, -2.834155965))
            Line((0.300099924, -2.834155965), (0.425438035, -2.412778995))
            Line((0.425438035, -2.412778995), (0.687336745, -2.765875666))
            ThreePointArc((0.687336745, -2.765875666), (0.737634279, -2.752888605), (0.787686751, -2.738986963))
            Line((0.787686751, -2.738986963), (0.837949351, -2.302246921))
            Line((0.837949351, -2.302246921), (1.157183824, -2.604501026))
            ThreePointArc((1.157183824, -2.604501026), (1.204462046, -2.582977193), (1.251340114, -2.560595228))
            Line((1.251340114, -2.560595228), (1.225, -2.121762239))
            Line((1.225, -2.121762239), (1.591870459, -2.363989941))
            ThreePointArc((1.591870459, -2.363989941), (1.634692844, -2.334583326), (1.676972141, -2.304401102))
            Line((1.676972141, -2.304401102), (1.574829644, -1.876808886))
            Line((1.574829644, -1.876808886), (1.978188915, -2.051650218))
            ThreePointArc((1.978188915, -2.051650218), (2.015254326, -2.015254326), (2.051650218, -1.978188915))
            Line((2.051650218, -1.978188915), (1.876808886, -1.574829644))
            Line((1.876808886, -1.574829644), (2.304401102, -1.676972141))
            ThreePointArc((2.304401102, -1.676972141), (2.334583326, -1.634692844), (2.363989941, -1.591870459))
            Line((2.363989941, -1.591870459), (2.121762239, -1.225))
            Line((2.121762239, -1.225), (2.560595228, -1.251340114))
            ThreePointArc((2.560595228, -1.251340114), (2.582977193, -1.204462046), (2.604501026, -1.157183824))
            Line((2.604501026, -1.157183824), (2.302246921, -0.837949351))
            Line((2.302246921, -0.837949351), (2.738986963, -0.787686751))
            ThreePointArc((2.738986963, -0.787686751), (2.752888605, -0.737634279), (2.765875666, -0.687336745))
            Line((2.765875666, -0.687336745), (2.412778995, -0.425438035))
            Line((2.412778995, -0.425438035), (2.834155965, -0.300099924))
            ThreePointArc((2.834155965, -0.300099924), (2.83915489, -0.248393867), (2.843210573, -0.196605286))
            Line((2.843210573, -0.196605286), (2.45, 0))
            Line((2.45, 0), (2.843210573, 0.196605286))
            ThreePointArc((2.843210573, 0.196605286), (2.83915489, 0.248393867), (2.834155965, 0.300099924))
            Line((2.834155965, 0.300099924), (2.412778995, 0.425438035))
            Line((2.412778995, 0.425438035), (2.765875666, 0.687336745))
            ThreePointArc((2.765875666, 0.687336745), (2.752888605, 0.737634279), (2.738986963, 0.787686751))
            Line((2.738986963, 0.787686751), (2.302246921, 0.837949351))
            Line((2.302246921, 0.837949351), (2.604501026, 1.157183824))
            ThreePointArc((2.604501026, 1.157183824), (2.582977193, 1.204462046), (2.560595228, 1.251340114))
            Line((2.560595228, 1.251340114), (2.121762239, 1.225))
            Line((2.121762239, 1.225), (2.363989941, 1.591870459))
            ThreePointArc((2.363989941, 1.591870459), (2.334583326, 1.634692844), (2.304401102, 1.676972141))
            Line((2.304401102, 1.676972141), (1.876808886, 1.574829644))
            Line((1.876808886, 1.574829644), (2.051650218, 1.978188915))
            ThreePointArc((2.051650218, 1.978188915), (2.015254326, 2.015254326), (1.978188915, 2.051650218))
            Line((1.978188915, 2.051650218), (1.574829644, 1.876808886))
            Line((1.574829644, 1.876808886), (1.676972141, 2.304401102))
            ThreePointArc((1.676972141, 2.304401102), (1.634692844, 2.334583326), (1.591870459, 2.363989941))
            Line((1.591870459, 2.363989941), (1.225, 2.121762239))
            Line((1.225, 2.121762239), (1.251340114, 2.560595228))
            ThreePointArc((1.251340114, 2.560595228), (1.204462046, 2.582977193), (1.157183824, 2.604501026))
            Line((1.157183824, 2.604501026), (0.837949351, 2.302246921))
            Line((0.837949351, 2.302246921), (0.787686751, 2.738986963))
            ThreePointArc((0.787686751, 2.738986963), (0.737634279, 2.752888605), (0.687336745, 2.765875666))
        make_face()
    extrude(amount=-CUT_EXTRUDE1_DEPTH, mode=Mode.SUBTRACT)

    # Ø8.8 (8.8) Diameter Hole1
    with Locations(Plane(origin=(0, 0, 0), x_dir=(-1, 0, 0), z_dir=(0, -1, 0))):
        with Locations((0, 0)):
            Hole(F_8_8_8_8_DIAMETER_HOLE1_D / 2, depth=F_8_8_8_8_DIAMETER_HOLE1_DEPTH)

    # Sketch6 → Revolve1 (revolve)
    with BuildSketch(Plane.XY):
        with Locations((1.625, 0.15)):
            Rectangle(SKETCH6_W, SKETCH6_H)
    revolve(axis=Axis((0, 0.3, 0), (0, -1, 0)))

    # Ø1.5 (1.5) Diameter Hole1
    with Locations(Plane(origin=(0, 2.35, 0), x_dir=(1, 0, 0), z_dir=(0, 1, 0))):
        with Locations((0, -7), (0, 16), (0, -10), (0, -13), (0, -16), (0, 13), (0, 10), (0, 7)):
            Hole(F_1_5_1_5_DIAMETER_HOLE1_D / 2, depth=F_1_5_1_5_DIAMETER_HOLE1_DEPTH)

    # CBORE for M2.5 Hex Head Machine Screw1
    with Locations(Plane(origin=(0, 0, 0), x_dir=(-1, 0, 0), z_dir=(0, -1, 0))):
        with Locations((0, 0)):
            CounterBoreHole(CBORE_FOR_M2_5_HEX_HEAD_MACHINE_SCREW1_D / 2, CBORE_FOR_M2_5_HEX_HEAD_MACHINE_SCREW1_CBORE_D / 2, CBORE_FOR_M2_5_HEX_HEAD_MACHINE_SCREW1_CBORE_DEPTH, depth=CBORE_FOR_M2_5_HEX_HEAD_MACHINE_SCREW1_DEPTH)


solid = part.part
